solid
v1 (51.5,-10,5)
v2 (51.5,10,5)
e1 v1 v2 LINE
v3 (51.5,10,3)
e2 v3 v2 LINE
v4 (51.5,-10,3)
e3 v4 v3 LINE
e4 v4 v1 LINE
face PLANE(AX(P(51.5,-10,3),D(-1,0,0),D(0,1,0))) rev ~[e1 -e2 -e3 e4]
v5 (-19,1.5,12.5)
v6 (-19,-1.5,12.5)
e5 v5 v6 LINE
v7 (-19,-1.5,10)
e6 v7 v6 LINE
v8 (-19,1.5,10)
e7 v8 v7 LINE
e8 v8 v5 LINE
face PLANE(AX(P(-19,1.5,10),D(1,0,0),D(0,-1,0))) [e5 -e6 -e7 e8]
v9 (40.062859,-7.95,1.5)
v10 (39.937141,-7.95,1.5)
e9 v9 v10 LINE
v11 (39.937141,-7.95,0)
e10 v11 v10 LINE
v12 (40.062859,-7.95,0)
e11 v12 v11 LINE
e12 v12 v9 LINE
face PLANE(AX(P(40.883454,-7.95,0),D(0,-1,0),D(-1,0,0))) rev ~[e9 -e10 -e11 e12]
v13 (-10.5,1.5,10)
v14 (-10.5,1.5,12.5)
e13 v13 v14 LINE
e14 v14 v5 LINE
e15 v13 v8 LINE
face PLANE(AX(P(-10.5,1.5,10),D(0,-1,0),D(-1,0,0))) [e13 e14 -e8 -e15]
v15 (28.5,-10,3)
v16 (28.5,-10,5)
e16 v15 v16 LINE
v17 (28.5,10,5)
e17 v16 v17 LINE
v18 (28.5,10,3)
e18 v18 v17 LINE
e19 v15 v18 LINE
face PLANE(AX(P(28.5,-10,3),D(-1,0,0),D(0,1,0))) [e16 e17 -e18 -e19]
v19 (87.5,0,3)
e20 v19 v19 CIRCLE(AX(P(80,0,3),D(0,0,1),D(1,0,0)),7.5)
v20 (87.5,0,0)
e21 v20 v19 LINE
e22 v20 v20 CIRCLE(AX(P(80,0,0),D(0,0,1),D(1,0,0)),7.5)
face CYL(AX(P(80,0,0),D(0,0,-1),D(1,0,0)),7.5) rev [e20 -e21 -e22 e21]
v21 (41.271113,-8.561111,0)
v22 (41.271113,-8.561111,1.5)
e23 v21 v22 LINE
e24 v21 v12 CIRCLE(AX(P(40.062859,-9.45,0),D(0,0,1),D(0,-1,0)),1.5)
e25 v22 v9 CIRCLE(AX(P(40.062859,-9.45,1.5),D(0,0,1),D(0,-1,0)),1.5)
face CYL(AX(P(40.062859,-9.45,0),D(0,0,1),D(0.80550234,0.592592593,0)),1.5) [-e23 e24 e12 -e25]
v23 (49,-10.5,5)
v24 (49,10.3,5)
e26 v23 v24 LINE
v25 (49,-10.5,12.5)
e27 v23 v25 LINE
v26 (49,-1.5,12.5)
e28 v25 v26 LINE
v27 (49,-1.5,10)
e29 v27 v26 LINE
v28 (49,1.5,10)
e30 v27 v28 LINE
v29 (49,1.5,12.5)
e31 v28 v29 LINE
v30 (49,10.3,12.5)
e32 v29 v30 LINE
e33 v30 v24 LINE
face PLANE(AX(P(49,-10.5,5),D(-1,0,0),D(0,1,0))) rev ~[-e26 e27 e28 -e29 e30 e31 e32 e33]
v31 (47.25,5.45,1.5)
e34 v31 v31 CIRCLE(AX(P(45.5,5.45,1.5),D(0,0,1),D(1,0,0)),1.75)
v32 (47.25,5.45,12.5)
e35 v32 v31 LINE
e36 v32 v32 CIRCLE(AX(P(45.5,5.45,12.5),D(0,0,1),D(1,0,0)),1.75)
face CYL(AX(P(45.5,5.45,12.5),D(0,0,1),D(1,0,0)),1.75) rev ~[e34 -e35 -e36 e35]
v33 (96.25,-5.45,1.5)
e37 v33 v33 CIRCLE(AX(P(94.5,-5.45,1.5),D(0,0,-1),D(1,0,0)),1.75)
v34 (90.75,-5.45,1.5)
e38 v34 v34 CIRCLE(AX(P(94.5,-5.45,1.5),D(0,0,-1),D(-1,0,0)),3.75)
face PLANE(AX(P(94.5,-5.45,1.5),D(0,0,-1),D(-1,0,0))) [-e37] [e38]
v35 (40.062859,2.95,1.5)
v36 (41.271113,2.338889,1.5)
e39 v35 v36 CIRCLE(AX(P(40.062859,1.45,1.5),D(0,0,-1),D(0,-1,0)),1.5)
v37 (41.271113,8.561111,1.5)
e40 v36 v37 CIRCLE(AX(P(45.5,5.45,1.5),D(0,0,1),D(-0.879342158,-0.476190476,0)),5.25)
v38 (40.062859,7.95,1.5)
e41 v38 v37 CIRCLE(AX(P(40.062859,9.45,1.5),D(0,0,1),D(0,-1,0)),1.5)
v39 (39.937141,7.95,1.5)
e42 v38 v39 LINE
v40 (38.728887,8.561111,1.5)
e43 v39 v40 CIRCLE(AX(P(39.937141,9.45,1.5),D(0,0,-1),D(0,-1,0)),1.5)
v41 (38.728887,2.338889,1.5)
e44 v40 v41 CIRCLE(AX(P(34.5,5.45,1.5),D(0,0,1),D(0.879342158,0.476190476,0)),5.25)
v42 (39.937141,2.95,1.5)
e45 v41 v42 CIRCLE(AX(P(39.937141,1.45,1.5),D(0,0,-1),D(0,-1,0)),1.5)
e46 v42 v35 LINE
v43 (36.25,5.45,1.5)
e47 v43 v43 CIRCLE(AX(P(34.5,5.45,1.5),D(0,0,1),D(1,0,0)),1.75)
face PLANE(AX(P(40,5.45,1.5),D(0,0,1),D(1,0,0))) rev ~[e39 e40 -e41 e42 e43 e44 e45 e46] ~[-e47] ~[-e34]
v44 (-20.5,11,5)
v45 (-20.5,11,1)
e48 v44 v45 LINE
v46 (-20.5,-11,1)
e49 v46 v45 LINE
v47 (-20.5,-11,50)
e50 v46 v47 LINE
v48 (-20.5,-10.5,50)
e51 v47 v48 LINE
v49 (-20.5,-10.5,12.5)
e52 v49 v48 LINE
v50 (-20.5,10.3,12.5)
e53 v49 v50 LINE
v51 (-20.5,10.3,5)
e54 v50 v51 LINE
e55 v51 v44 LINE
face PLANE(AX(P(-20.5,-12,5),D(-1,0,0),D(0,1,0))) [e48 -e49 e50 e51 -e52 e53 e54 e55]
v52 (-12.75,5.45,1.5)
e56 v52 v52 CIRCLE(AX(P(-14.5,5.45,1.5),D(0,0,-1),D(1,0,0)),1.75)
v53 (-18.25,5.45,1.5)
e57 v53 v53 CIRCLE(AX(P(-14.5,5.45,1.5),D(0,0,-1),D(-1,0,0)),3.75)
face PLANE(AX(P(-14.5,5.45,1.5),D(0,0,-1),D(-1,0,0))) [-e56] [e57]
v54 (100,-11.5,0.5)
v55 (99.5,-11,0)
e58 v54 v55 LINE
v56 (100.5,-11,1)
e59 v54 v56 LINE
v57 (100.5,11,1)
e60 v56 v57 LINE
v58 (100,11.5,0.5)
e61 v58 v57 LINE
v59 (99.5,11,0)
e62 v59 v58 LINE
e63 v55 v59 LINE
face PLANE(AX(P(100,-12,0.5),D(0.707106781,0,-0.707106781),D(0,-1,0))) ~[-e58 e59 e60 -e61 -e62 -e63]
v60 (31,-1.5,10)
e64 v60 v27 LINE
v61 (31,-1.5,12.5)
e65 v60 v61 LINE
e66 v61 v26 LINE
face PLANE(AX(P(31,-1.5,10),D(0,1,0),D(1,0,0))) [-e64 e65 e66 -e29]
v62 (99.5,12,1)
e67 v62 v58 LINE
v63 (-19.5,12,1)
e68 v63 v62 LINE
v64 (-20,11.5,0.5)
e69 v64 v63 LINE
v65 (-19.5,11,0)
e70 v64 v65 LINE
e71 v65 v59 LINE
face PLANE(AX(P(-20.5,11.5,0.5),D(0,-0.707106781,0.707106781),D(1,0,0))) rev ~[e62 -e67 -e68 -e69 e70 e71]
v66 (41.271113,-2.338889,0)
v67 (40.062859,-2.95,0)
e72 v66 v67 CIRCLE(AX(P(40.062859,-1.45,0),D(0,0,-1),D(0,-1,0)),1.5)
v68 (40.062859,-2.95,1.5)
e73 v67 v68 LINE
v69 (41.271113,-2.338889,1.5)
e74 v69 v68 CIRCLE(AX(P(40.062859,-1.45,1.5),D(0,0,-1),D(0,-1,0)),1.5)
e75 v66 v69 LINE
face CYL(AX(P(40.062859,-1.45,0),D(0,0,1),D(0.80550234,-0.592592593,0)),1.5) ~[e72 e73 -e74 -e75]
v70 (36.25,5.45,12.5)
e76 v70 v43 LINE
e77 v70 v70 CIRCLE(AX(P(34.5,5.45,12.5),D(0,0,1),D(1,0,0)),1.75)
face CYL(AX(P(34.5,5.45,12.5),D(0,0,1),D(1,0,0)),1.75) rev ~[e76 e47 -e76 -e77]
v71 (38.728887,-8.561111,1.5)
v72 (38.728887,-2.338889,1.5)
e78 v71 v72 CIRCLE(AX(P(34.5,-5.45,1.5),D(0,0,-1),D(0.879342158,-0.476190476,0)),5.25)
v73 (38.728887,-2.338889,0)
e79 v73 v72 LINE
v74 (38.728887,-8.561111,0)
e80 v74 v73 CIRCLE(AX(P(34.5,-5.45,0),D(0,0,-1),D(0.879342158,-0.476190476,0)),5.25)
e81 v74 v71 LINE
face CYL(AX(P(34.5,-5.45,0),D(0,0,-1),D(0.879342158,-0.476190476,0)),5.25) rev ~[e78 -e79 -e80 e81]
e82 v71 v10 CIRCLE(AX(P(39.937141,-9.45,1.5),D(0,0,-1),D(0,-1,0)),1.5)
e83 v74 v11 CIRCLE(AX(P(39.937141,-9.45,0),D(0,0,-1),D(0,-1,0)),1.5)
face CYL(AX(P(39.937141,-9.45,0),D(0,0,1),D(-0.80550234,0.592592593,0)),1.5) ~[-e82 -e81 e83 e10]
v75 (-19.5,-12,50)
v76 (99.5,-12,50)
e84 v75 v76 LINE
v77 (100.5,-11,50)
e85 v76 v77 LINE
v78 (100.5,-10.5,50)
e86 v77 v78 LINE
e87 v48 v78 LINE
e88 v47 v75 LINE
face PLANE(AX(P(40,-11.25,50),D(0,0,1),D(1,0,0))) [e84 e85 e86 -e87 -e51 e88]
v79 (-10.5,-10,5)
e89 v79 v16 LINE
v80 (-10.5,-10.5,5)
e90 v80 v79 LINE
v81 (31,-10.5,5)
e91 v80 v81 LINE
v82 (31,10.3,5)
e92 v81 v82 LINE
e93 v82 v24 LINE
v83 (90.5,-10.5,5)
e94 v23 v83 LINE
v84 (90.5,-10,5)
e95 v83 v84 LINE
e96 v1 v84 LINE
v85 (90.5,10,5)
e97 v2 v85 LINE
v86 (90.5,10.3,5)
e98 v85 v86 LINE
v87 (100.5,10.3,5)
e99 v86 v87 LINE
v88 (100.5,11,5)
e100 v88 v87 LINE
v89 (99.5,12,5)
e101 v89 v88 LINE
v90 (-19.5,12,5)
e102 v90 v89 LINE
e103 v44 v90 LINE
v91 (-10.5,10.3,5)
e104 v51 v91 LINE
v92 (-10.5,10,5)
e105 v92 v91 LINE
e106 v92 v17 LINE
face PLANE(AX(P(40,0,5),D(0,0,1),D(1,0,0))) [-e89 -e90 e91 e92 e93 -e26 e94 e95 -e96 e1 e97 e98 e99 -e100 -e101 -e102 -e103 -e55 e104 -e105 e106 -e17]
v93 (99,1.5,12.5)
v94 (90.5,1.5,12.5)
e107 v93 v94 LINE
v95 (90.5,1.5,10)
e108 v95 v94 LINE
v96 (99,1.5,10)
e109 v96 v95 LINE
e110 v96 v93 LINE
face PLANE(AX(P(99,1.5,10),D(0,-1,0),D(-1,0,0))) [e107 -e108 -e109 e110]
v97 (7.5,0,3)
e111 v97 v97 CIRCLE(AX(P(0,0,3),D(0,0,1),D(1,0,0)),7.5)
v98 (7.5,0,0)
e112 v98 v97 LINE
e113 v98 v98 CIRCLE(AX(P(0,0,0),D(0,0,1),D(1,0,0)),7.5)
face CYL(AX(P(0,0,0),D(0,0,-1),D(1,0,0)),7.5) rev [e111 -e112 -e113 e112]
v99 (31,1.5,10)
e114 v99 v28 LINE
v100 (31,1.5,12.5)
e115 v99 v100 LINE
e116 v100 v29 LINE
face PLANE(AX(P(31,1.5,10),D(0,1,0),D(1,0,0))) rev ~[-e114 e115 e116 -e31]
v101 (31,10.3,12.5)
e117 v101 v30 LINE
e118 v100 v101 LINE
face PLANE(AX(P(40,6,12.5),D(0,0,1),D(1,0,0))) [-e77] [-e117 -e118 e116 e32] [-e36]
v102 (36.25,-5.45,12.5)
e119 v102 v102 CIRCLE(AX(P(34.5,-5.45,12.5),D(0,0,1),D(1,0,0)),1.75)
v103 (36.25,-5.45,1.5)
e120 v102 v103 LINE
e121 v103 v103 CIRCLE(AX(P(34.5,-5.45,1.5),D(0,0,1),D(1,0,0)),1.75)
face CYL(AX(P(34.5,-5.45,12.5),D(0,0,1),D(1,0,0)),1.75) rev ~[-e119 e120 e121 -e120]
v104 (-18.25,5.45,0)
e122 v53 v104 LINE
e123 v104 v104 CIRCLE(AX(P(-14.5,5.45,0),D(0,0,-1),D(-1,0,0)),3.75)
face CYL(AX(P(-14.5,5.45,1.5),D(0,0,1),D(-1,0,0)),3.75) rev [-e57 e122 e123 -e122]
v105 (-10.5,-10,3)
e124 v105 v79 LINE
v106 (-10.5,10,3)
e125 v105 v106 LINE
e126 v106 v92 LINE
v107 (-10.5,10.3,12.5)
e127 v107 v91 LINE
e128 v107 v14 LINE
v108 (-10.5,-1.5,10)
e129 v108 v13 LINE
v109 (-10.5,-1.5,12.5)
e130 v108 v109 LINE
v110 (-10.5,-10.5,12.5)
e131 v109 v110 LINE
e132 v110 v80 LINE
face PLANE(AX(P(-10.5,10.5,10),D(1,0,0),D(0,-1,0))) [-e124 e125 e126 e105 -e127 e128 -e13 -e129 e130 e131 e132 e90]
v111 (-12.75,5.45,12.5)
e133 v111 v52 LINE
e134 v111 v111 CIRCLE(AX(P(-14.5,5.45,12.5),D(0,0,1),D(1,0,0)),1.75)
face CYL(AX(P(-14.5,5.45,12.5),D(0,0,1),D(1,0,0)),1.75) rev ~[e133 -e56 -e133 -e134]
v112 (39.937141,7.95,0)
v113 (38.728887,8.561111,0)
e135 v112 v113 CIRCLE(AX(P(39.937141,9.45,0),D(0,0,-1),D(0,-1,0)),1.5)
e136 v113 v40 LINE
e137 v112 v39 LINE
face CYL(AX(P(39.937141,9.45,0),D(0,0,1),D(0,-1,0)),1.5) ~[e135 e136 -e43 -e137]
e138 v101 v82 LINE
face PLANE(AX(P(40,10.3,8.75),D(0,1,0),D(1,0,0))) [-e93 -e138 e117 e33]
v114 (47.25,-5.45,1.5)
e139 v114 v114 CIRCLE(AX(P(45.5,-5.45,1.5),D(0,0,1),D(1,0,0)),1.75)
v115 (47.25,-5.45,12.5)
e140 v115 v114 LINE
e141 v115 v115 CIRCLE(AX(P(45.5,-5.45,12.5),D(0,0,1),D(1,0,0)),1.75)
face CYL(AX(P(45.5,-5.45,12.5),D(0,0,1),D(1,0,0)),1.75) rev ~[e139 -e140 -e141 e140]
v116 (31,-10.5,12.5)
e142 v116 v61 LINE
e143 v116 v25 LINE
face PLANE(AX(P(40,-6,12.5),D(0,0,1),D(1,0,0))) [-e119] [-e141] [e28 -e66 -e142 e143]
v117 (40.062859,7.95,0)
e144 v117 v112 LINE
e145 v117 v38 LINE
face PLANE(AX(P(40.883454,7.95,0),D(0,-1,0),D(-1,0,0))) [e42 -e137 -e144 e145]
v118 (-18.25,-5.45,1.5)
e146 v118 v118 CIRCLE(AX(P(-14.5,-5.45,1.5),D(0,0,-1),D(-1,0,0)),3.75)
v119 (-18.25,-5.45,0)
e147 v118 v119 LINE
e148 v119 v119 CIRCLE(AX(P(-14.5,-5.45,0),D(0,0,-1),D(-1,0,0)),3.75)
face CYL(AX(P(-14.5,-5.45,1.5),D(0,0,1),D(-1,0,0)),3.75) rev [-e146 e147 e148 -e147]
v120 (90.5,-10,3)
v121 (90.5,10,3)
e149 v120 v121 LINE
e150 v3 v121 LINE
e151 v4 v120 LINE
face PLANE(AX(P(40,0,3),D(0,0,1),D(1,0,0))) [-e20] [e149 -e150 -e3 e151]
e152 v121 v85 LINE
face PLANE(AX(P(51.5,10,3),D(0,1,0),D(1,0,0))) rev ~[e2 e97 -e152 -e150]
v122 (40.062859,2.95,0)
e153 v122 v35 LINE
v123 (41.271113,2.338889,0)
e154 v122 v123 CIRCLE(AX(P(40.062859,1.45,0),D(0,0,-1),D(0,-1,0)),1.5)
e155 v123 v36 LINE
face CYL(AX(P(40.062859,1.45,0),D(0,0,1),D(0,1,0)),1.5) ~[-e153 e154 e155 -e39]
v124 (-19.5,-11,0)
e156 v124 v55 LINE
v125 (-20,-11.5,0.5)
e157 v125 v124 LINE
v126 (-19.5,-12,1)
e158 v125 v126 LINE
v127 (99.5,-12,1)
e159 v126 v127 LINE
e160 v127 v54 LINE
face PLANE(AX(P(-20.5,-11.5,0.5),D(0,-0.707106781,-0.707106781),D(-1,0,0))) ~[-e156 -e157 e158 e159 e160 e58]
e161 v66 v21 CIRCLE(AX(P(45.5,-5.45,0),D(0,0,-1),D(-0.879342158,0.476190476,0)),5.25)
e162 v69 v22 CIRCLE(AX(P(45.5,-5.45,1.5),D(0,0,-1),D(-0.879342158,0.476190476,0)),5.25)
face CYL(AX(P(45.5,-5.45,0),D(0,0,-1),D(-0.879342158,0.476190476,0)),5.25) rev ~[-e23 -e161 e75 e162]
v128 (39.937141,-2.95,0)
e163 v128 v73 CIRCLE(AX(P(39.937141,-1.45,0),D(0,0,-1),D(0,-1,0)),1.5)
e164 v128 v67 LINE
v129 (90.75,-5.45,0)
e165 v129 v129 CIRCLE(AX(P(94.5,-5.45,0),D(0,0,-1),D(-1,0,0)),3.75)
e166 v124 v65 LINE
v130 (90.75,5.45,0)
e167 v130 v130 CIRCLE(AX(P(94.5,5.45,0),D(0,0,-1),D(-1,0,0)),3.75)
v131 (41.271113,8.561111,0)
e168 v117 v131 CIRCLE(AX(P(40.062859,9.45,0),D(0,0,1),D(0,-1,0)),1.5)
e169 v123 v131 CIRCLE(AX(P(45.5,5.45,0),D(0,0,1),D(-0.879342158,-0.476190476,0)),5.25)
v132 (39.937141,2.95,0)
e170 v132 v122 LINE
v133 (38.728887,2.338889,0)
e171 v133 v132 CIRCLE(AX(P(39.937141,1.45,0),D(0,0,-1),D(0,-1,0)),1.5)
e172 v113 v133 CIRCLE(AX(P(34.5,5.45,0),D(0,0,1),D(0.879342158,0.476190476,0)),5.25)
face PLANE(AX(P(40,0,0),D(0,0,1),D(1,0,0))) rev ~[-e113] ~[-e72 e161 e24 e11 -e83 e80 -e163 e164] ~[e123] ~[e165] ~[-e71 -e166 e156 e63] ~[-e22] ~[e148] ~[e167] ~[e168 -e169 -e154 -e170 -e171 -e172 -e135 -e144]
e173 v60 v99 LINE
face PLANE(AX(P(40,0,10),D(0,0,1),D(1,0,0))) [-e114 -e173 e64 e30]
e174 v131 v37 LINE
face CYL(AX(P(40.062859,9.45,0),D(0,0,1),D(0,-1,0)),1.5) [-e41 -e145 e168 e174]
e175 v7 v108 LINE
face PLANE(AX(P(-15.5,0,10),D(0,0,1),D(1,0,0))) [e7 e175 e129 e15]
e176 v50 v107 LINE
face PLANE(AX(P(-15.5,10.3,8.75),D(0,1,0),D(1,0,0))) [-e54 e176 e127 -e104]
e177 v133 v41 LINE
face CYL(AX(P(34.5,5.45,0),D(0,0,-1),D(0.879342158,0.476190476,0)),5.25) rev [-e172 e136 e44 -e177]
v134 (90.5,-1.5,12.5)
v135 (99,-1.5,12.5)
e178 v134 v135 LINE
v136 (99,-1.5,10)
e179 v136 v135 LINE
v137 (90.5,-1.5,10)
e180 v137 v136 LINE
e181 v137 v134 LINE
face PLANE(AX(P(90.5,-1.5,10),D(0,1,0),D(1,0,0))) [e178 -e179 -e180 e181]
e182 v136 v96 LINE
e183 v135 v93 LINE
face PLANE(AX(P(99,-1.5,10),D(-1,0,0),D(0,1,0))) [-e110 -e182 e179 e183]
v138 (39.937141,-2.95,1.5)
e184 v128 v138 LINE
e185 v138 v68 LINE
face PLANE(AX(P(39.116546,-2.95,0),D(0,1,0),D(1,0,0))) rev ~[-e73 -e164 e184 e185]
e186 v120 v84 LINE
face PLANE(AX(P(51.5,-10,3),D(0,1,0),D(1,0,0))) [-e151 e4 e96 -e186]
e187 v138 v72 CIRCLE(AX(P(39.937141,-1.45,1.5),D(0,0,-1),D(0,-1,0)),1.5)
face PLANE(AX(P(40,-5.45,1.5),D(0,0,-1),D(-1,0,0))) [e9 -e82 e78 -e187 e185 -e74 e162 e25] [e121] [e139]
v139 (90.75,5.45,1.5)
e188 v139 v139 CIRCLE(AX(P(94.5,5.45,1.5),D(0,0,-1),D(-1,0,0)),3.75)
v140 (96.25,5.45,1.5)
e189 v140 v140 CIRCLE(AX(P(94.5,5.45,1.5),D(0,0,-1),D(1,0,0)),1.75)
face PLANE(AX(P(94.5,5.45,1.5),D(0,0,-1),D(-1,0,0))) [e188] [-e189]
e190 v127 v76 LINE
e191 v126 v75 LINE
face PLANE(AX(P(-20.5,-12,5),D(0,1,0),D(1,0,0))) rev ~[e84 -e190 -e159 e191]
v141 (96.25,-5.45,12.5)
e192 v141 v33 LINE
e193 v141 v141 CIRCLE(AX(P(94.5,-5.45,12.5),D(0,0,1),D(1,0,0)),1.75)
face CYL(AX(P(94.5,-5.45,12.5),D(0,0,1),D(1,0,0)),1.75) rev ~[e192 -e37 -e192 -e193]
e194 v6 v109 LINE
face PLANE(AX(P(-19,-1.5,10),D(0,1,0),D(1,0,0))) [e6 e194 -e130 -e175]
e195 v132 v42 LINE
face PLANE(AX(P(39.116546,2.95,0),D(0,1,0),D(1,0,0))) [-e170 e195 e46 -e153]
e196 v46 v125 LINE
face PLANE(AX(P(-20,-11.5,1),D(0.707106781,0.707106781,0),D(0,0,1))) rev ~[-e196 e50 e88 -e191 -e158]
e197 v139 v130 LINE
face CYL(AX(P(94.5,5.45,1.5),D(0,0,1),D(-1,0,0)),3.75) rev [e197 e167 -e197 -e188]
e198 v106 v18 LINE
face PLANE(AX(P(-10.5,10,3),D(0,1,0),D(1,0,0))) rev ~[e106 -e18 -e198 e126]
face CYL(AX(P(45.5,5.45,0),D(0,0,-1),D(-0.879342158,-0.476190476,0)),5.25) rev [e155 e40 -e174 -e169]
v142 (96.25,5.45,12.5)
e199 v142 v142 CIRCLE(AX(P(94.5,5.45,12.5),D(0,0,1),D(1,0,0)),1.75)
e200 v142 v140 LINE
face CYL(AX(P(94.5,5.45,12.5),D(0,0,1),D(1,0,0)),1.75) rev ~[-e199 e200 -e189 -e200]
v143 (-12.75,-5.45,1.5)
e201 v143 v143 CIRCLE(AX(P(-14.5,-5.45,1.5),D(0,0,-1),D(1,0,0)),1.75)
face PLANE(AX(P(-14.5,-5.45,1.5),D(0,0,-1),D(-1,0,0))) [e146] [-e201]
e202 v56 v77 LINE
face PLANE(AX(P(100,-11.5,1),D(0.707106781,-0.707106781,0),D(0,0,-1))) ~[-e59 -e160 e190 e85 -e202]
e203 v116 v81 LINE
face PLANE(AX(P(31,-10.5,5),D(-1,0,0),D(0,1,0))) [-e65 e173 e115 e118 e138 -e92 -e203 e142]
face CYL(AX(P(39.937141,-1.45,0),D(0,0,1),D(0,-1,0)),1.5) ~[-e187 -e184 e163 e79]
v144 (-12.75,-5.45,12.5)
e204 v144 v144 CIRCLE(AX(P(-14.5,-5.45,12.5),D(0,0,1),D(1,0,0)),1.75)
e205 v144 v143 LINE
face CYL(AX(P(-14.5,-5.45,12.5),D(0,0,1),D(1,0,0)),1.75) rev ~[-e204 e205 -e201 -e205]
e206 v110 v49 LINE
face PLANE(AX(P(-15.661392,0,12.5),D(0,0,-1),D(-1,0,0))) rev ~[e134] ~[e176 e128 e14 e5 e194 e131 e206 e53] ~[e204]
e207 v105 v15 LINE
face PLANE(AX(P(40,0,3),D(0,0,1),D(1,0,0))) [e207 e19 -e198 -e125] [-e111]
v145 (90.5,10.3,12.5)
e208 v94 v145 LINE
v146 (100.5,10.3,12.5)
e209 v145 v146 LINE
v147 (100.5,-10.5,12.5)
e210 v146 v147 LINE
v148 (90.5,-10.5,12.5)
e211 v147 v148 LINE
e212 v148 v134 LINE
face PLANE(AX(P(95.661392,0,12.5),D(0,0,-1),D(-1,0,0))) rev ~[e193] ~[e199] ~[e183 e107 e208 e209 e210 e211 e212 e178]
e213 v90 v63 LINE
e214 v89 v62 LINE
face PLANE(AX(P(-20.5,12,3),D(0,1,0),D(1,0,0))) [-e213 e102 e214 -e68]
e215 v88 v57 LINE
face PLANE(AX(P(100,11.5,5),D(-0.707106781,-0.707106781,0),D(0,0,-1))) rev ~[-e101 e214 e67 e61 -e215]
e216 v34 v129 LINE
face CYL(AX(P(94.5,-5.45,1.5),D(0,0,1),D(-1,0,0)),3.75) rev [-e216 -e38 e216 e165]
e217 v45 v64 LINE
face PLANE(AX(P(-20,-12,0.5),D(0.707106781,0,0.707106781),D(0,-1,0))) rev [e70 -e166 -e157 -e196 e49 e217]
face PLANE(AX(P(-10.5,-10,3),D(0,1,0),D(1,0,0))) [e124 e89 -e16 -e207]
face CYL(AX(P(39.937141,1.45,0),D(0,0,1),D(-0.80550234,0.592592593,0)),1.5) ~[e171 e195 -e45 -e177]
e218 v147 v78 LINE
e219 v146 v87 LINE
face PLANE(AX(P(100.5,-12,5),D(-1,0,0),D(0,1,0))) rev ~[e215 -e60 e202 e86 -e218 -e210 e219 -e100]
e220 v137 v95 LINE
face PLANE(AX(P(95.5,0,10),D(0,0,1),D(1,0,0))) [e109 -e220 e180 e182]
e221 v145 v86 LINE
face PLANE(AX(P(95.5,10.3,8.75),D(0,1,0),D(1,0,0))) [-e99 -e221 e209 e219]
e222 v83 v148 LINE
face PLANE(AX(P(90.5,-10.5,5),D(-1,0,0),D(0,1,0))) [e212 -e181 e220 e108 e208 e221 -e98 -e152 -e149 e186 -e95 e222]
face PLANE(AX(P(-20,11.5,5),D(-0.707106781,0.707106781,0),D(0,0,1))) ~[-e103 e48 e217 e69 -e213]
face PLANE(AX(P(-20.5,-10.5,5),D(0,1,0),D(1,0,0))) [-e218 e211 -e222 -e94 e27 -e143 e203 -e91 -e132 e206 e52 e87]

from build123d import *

# Parameters (mm, degrees)
SZKIC1_W                    = 121
SZKIC1_H                    = 24
SZKIC1_R                    = 7.5
DODANIE_WYCI_GNI_CIE1_DEPTH = 3
SZKIC2_W                    = 121
SZKIC2_H                    = 24
SZKIC2_W_2                  = 39
SZKIC2_H_2                  = 20
DODANIE_WYCI_GNI_CIE2_DEPTH = 2
SZKIC3_W                    = 10
SZKIC3_H                    = 21
SZKIC3_W_2                  = 18
DODANIE_WYCI_GNI_CIE3_DEPTH = 5
SZKIC5_W                    = 18
SZKIC5_H                    = 9
DODANIE_WYCI_GNI_CIE4_DEPTH = 2.5
WYTNIJ_WYCI_GNI_CIE1_REACH  = 103.983
SZKIC6_R                    = 1.75
WYTNIJ_WYCI_GNI_CIE2_START  = -1.5
SZKIC7_R                    = 3.75
SZKIC7_R_2                  = 1.75
WYTNIJ_WYCI_GNI_CIE2_DEPTH  = 1.5
WYTNIJ_WYCI_GNI_CIE4_DEPTH  = 1.5
ZAOKR_GLENIE1_R             = 1.5
SZKIC10_W                   = 10
SZKIC10_H                   = 7.5
SZKIC10_W_2                 = 18
WYTNIJ_WYCI_GNI_CIE5_DEPTH  = 0.2
SZKIC11_W                   = 121
SZKIC11_H                   = 1.5
DODANIE_WYCI_GNI_CIE5_DEPTH = 45
SFAZOWANIE1_SIZE            = 1
SFAZOWANIE2_SIZE            = 1


with BuildPart() as part:
    # Szkic1 → Dodanie-wyciągnięcie1 (new body)
    with BuildSketch(Plane.XY):
        with Locations((40, 0)):
            Rectangle(SZKIC1_W, SZKIC1_H)
        Circle(SZKIC1_R, mode=Mode.SUBTRACT)
        with Locations((80, 0)):
            Circle(SZKIC1_R, mode=Mode.SUBTRACT)
    extrude(amount=DODANIE_WYCI_GNI_CIE1_DEPTH)

    # Szkic2 → Dodanie-wyciągnięcie2 (add)
    with BuildSketch(Plane.XY.offset(3)):
        with Locations((40, 0)):
            Rectangle(SZKIC2_W, SZKIC2_H)
        with Locations((9, 0)):
            Rectangle(SZKIC2_W_2, SZKIC2_H_2, mode=Mode.SUBTRACT)
        with Locations((71, 0)):
            Rectangle(SZKIC2_W_2, SZKIC2_H_2, mode=Mode.SUBTRACT)
    extrude(amount=DODANIE_WYCI_GNI_CIE2_DEPTH)

    # Szkic3 → Dodanie-wyciągnięcie3 (add)
    with BuildSketch(Plane.XY.offset(5)):
        with Locations((-15.5, 0)):
            Rectangle(SZKIC3_W, SZKIC3_H)
        with Locations((40, 0)):
            Rectangle(SZKIC3_W_2, SZKIC3_H)
        with Locations((95.5, 0)):
            Rectangle(SZKIC3_W, SZKIC3_H)
    extrude(amount=DODANIE_WYCI_GNI_CIE3_DEPTH)

    # Szkic5 → Dodanie-wyciągnięcie4 (add)
    with BuildSketch(Plane.XY.offset(10)):
        Polygon((-20.5, 10.5), (-10.5, 10.5), (-10.5, 1.5), (-19, 1.5), (-19, -1.5), (-10.5, -1.5), (-10.5, -10.5), (-20.5, -10.5), align=None)
        Polygon((90.5, -1.5), (99, -1.5), (99, 1.5), (90.5, 1.5), (90.5, 10.5), (100.5, 10.5), (100.5, -10.5), (90.5, -10.5), align=None)
        with Locations((40, -6)):
            Rectangle(SZKIC5_W, SZKIC5_H)
        with Locations((40, 6)):
            Rectangle(SZKIC5_W, SZKIC5_H)
    extrude(amount=DODANIE_WYCI_GNI_CIE4_DEPTH)

    # Szkic6 → Wytnij-wyciągnięcie1 (cut, up to next)
    with BuildSketch(Plane.XY.offset(12.5), mode=Mode.PRIVATE) as wytnij_wyci_gni_cie1_sk1:
        with Locations((-14.5, 5.45)):
            Circle(SZKIC6_R)
    wytnij_wyci_gni_cie1_tool1 = extrude(wytnij_wyci_gni_cie1_sk1.sketch, amount=-WYTNIJ_WYCI_GNI_CIE1_REACH, mode=Mode.PRIVATE) & part.part
    # Szkic6 → Wytnij-wyciągnięcie1 (cut, up to next)
    with BuildSketch(Plane.XY.offset(12.5), mode=Mode.PRIVATE) as wytnij_wyci_gni_cie1_sk2:
        with Locations((34.5, 5.45)):
            Circle(SZKIC6_R)
    wytnij_wyci_gni_cie1_tool2 = extrude(wytnij_wyci_gni_cie1_sk2.sketch, amount=-WYTNIJ_WYCI_GNI_CIE1_REACH, mode=Mode.PRIVATE) & part.part
    # Szkic6 → Wytnij-wyciągnięcie1 (cut, up to next)
    with BuildSketch(Plane.XY.offset(12.5), mode=Mode.PRIVATE) as wytnij_wyci_gni_cie1_sk3:
        with Locations((34.5, -5.45)):
            Circle(SZKIC6_R)
    wytnij_wyci_gni_cie1_tool3 = extrude(wytnij_wyci_gni_cie1_sk3.sketch, amount=-WYTNIJ_WYCI_GNI_CIE1_REACH, mode=Mode.PRIVATE) & part.part
    # Szkic6 → Wytnij-wyciągnięcie1 (cut, up to next)
    with BuildSketch(Plane.XY.offset(12.5), mode=Mode.PRIVATE) as wytnij_wyci_gni_cie1_sk4:
        with Locations((-14.5, -5.45)):
            Circle(SZKIC6_R)
    wytnij_wyci_gni_cie1_tool4 = extrude(wytnij_wyci_gni_cie1_sk4.sketch, amount=-WYTNIJ_WYCI_GNI_CIE1_REACH, mode=Mode.PRIVATE) & part.part
    # Szkic6 → Wytnij-wyciągnięcie1 (cut, up to next)
    with BuildSketch(Plane.XY.offset(12.5), mode=Mode.PRIVATE) as wytnij_wyci_gni_cie1_sk5:
        with Locations((45.5, 5.45)):
            Circle(SZKIC6_R)
    wytnij_wyci_gni_cie1_tool5 = extrude(wytnij_wyci_gni_cie1_sk5.sketch, amount=-WYTNIJ_WYCI_GNI_CIE1_REACH, mode=Mode.PRIVATE) & part.part
    # Szkic6 → Wytnij-wyciągnięcie1 (cut, up to next)
    with BuildSketch(Plane.XY.offset(12.5), mode=Mode.PRIVATE) as wytnij_wyci_gni_cie1_sk6:
        with Locations((45.5, -5.45)):
            Circle(SZKIC6_R)
    wytnij_wyci_gni_cie1_tool6 = extrude(wytnij_wyci_gni_cie1_sk6.sketch, amount=-WYTNIJ_WYCI_GNI_CIE1_REACH, mode=Mode.PRIVATE) & part.part
    # Szkic6 → Wytnij-wyciągnięcie1 (cut, up to next)
    with BuildSketch(Plane.XY.offset(12.5), mode=Mode.PRIVATE) as wytnij_wyci_gni_cie1_sk7:
        with Locations((94.5, -5.45)):
            Circle(SZKIC6_R)
    wytnij_wyci_gni_cie1_tool7 = extrude(wytnij_wyci_gni_cie1_sk7.sketch, amount=-WYTNIJ_WYCI_GNI_CIE1_REACH, mode=Mode.PRIVATE) & part.part
    # Szkic6 → Wytnij-wyciągnięcie1 (cut, up to next)
    with BuildSketch(Plane.XY.offset(12.5), mode=Mode.PRIVATE) as wytnij_wyci_gni_cie1_sk8:
        with Locations((94.5, 5.45)):
            Circle(SZKIC6_R)
    wytnij_wyci_gni_cie1_tool8 = extrude(wytnij_wyci_gni_cie1_sk8.sketch, amount=-WYTNIJ_WYCI_GNI_CIE1_REACH, mode=Mode.PRIVATE) & part.part
    add(wytnij_wyci_gni_cie1_tool1.solids().sort_by_distance((-14.5, 5.45, 12.5))[0], mode=Mode.SUBTRACT)
    add(wytnij_wyci_gni_cie1_tool2.solids().sort_by_distance((34.5, 5.45, 12.5))[0], mode=Mode.SUBTRACT)
    add(wytnij_wyci_gni_cie1_tool3.solids().sort_by_distance((34.5, -5.45, 12.5))[0], mode=Mode.SUBTRACT)
    add(wytnij_wyci_gni_cie1_tool4.solids().sort_by_distance((-14.5, -5.45, 12.5))[0], mode=Mode.SUBTRACT)
    add(wytnij_wyci_gni_cie1_tool5.solids().sort_by_distance((45.5, 5.45, 12.5))[0], mode=Mode.SUBTRACT)
    add(wytnij_wyci_gni_cie1_tool6.solids().sort_by_distance((45.5, -5.45, 12.5))[0], mode=Mode.SUBTRACT)
    add(wytnij_wyci_gni_cie1_tool7.solids().sort_by_distance((94.5, -5.45, 12.5))[0], mode=Mode.SUBTRACT)
    add(wytnij_wyci_gni_cie1_tool8.solids().sort_by_distance((94.5, 5.45, 12.5))[0], mode=Mode.SUBTRACT)

    # Szkic7 → Wytnij-wyciągnięcie2 (cut)
    # profile 1 of 4: a face of its own
    with BuildSketch(Plane(origin=(0, 0, 0), x_dir=(-1, 0, 0), z_dir=(0, 0, -1)).offset(WYTNIJ_WYCI_GNI_CIE2_START)):
        with Locations((14.5, -5.45)):
            Circle(SZKIC7_R)
        with Locations(Location((14.5, -5.45, 0), (0, 0, 180))):
            Circle(SZKIC7_R_2, mode=Mode.SUBTRACT)
    # profile 2 of 4: a face of its own
    with BuildSketch(Plane(origin=(0, 0, 0), x_dir=(-1, 0, 0), z_dir=(0, 0, -1)).offset(WYTNIJ_WYCI_GNI_CIE2_START)):
        with Locations((14.5, 5.45)):
            Circle(SZKIC7_R)
        with Locations(Location((14.5, 5.45, 0), (0, 0, 180))):
            Circle(SZKIC7_R_2, mode=Mode.SUBTRACT)
    # profile 3 of 4: a face of its own
    with BuildSketch(Plane(origin=(0, 0, 0), x_dir=(-1, 0, 0), z_dir=(0, 0, -1)).offset(WYTNIJ_WYCI_GNI_CIE2_START)):
        with Locations((-94.5, -5.45)):
            Circle(SZKIC7_R)
        with Locations(Location((-94.5, -5.45, 0), (0, 0, 180))):
            Circle(SZKIC7_R_2, mode=Mode.SUBTRACT)
    # profile 4 of 4: a face of its own
    with BuildSketch(Plane(origin=(0, 0, 0), x_dir=(-1, 0, 0), z_dir=(0, 0, -1)).offset(WYTNIJ_WYCI_GNI_CIE2_START)):
        with Locations((-94.5, 5.45)):
            Circle(SZKIC7_R)
        with Locations(Location((-94.5, 5.45, 0), (0, 0, 180))):
            Circle(SZKIC7_R_2, mode=Mode.SUBTRACT)
    extrude(amount=WYTNIJ_WYCI_GNI_CIE2_DEPTH, mode=Mode.SUBTRACT)

    # Szkic9 → Wytnij-wyciągnięcie4 (cut)
    with BuildSketch(Plane(origin=(0, 0, 0), x_dir=(-1, 0, 0), z_dir=(0, 0, -1))):
        with BuildLine():
            Line((-40.883453672, 7.95), (-39.116546328, 7.95))
            ThreePointArc((-39.116546328, 7.95), (-29.25, 5.45), (-39.116546328, 2.95))
            Line((-39.116546328, 2.95), (-40.883453672, 2.95))
            ThreePointArc((-40.883453672, 2.95), (-50.75, 5.45), (-40.883453672, 7.95))
        make_face()
        with BuildLine():
            Line((-40.883453672, -7.95), (-39.116546328, -7.95))
            ThreePointArc((-39.116546328, -7.95), (-29.25, -5.45), (-39.116546328, -2.95))
            Line((-39.116546328, -2.95), (-40.883453672, -2.95))
            ThreePointArc((-40.883453672, -2.95), (-50.75, -5.45), (-40.883453672, -7.95))
        make_face()
    extrude(amount=-WYTNIJ_WYCI_GNI_CIE4_DEPTH, mode=Mode.SUBTRACT)

    # Zaokrąglenie1
    zaokr_glenie1_edges = [part.edges().sort_by_distance(p)[0] for p in [
        (39.116546328, -7.95, 0.75),
        (39.116546328, -2.95, 0.75),
        (40.883453672, -2.95, 0.75),
        (40.883453672, -7.95, 0.75),
        (39.116546328, 2.95, 0.75),
        (39.116546328, 7.95, 0.75),
        (40.883453672, 7.95, 0.75),
        (40.883453672, 2.95, 0.75),
    ]]
    fillet(zaokr_glenie1_edges, radius=ZAOKR_GLENIE1_R)

    # Szkic10 → Wytnij-wyciągnięcie5 (cut)
    with BuildSketch(Plane(origin=(0, 10.5, 0), x_dir=(1, 0, 0), z_dir=(0, 1, 0))):
        with Locations((-15.5, -8.75)):
            Rectangle(SZKIC10_W, SZKIC10_H)
        with Locations((40, -8.75)):
            Rectangle(SZKIC10_W_2, SZKIC10_H)
        with Locations((95.5, -8.75)):
            Rectangle(SZKIC10_W, SZKIC10_H)
    extrude(amount=-WYTNIJ_WYCI_GNI_CIE5_DEPTH, mode=Mode.SUBTRACT)

    # Szkic11 → Dodanie-wyciągnięcie5 (add)
    with BuildSketch(Plane.XY.offset(5)):
        with Locations((40, -11.25)):
            Rectangle(SZKIC11_W, SZKIC11_H)
    extrude(amount=DODANIE_WYCI_GNI_CIE5_DEPTH)

    # Sfazowanie1
    sfazowanie1_edges = [part.edges().sort_by_distance(p)[0] for p in [
        (40, -12, 0),
        (-20.5, 0, 0),
        (40, 12, 0),
        (100.5, 0, 0),
    ]]
    chamfer(sfazowanie1_edges, length=SFAZOWANIE1_SIZE)

    # Sfazowanie2
    sfazowanie2_edges = [part.edges().sort_by_distance(p)[0] for p in [
        (100.5, -12, 25.5),
        (-20.5, -12, 25.5),
        (-20.5, 12, 3),
        (100.5, 12, 3),
    ]]
    chamfer(sfazowanie2_edges, length=SFAZOWANIE2_SIZE)


solid = part.part
